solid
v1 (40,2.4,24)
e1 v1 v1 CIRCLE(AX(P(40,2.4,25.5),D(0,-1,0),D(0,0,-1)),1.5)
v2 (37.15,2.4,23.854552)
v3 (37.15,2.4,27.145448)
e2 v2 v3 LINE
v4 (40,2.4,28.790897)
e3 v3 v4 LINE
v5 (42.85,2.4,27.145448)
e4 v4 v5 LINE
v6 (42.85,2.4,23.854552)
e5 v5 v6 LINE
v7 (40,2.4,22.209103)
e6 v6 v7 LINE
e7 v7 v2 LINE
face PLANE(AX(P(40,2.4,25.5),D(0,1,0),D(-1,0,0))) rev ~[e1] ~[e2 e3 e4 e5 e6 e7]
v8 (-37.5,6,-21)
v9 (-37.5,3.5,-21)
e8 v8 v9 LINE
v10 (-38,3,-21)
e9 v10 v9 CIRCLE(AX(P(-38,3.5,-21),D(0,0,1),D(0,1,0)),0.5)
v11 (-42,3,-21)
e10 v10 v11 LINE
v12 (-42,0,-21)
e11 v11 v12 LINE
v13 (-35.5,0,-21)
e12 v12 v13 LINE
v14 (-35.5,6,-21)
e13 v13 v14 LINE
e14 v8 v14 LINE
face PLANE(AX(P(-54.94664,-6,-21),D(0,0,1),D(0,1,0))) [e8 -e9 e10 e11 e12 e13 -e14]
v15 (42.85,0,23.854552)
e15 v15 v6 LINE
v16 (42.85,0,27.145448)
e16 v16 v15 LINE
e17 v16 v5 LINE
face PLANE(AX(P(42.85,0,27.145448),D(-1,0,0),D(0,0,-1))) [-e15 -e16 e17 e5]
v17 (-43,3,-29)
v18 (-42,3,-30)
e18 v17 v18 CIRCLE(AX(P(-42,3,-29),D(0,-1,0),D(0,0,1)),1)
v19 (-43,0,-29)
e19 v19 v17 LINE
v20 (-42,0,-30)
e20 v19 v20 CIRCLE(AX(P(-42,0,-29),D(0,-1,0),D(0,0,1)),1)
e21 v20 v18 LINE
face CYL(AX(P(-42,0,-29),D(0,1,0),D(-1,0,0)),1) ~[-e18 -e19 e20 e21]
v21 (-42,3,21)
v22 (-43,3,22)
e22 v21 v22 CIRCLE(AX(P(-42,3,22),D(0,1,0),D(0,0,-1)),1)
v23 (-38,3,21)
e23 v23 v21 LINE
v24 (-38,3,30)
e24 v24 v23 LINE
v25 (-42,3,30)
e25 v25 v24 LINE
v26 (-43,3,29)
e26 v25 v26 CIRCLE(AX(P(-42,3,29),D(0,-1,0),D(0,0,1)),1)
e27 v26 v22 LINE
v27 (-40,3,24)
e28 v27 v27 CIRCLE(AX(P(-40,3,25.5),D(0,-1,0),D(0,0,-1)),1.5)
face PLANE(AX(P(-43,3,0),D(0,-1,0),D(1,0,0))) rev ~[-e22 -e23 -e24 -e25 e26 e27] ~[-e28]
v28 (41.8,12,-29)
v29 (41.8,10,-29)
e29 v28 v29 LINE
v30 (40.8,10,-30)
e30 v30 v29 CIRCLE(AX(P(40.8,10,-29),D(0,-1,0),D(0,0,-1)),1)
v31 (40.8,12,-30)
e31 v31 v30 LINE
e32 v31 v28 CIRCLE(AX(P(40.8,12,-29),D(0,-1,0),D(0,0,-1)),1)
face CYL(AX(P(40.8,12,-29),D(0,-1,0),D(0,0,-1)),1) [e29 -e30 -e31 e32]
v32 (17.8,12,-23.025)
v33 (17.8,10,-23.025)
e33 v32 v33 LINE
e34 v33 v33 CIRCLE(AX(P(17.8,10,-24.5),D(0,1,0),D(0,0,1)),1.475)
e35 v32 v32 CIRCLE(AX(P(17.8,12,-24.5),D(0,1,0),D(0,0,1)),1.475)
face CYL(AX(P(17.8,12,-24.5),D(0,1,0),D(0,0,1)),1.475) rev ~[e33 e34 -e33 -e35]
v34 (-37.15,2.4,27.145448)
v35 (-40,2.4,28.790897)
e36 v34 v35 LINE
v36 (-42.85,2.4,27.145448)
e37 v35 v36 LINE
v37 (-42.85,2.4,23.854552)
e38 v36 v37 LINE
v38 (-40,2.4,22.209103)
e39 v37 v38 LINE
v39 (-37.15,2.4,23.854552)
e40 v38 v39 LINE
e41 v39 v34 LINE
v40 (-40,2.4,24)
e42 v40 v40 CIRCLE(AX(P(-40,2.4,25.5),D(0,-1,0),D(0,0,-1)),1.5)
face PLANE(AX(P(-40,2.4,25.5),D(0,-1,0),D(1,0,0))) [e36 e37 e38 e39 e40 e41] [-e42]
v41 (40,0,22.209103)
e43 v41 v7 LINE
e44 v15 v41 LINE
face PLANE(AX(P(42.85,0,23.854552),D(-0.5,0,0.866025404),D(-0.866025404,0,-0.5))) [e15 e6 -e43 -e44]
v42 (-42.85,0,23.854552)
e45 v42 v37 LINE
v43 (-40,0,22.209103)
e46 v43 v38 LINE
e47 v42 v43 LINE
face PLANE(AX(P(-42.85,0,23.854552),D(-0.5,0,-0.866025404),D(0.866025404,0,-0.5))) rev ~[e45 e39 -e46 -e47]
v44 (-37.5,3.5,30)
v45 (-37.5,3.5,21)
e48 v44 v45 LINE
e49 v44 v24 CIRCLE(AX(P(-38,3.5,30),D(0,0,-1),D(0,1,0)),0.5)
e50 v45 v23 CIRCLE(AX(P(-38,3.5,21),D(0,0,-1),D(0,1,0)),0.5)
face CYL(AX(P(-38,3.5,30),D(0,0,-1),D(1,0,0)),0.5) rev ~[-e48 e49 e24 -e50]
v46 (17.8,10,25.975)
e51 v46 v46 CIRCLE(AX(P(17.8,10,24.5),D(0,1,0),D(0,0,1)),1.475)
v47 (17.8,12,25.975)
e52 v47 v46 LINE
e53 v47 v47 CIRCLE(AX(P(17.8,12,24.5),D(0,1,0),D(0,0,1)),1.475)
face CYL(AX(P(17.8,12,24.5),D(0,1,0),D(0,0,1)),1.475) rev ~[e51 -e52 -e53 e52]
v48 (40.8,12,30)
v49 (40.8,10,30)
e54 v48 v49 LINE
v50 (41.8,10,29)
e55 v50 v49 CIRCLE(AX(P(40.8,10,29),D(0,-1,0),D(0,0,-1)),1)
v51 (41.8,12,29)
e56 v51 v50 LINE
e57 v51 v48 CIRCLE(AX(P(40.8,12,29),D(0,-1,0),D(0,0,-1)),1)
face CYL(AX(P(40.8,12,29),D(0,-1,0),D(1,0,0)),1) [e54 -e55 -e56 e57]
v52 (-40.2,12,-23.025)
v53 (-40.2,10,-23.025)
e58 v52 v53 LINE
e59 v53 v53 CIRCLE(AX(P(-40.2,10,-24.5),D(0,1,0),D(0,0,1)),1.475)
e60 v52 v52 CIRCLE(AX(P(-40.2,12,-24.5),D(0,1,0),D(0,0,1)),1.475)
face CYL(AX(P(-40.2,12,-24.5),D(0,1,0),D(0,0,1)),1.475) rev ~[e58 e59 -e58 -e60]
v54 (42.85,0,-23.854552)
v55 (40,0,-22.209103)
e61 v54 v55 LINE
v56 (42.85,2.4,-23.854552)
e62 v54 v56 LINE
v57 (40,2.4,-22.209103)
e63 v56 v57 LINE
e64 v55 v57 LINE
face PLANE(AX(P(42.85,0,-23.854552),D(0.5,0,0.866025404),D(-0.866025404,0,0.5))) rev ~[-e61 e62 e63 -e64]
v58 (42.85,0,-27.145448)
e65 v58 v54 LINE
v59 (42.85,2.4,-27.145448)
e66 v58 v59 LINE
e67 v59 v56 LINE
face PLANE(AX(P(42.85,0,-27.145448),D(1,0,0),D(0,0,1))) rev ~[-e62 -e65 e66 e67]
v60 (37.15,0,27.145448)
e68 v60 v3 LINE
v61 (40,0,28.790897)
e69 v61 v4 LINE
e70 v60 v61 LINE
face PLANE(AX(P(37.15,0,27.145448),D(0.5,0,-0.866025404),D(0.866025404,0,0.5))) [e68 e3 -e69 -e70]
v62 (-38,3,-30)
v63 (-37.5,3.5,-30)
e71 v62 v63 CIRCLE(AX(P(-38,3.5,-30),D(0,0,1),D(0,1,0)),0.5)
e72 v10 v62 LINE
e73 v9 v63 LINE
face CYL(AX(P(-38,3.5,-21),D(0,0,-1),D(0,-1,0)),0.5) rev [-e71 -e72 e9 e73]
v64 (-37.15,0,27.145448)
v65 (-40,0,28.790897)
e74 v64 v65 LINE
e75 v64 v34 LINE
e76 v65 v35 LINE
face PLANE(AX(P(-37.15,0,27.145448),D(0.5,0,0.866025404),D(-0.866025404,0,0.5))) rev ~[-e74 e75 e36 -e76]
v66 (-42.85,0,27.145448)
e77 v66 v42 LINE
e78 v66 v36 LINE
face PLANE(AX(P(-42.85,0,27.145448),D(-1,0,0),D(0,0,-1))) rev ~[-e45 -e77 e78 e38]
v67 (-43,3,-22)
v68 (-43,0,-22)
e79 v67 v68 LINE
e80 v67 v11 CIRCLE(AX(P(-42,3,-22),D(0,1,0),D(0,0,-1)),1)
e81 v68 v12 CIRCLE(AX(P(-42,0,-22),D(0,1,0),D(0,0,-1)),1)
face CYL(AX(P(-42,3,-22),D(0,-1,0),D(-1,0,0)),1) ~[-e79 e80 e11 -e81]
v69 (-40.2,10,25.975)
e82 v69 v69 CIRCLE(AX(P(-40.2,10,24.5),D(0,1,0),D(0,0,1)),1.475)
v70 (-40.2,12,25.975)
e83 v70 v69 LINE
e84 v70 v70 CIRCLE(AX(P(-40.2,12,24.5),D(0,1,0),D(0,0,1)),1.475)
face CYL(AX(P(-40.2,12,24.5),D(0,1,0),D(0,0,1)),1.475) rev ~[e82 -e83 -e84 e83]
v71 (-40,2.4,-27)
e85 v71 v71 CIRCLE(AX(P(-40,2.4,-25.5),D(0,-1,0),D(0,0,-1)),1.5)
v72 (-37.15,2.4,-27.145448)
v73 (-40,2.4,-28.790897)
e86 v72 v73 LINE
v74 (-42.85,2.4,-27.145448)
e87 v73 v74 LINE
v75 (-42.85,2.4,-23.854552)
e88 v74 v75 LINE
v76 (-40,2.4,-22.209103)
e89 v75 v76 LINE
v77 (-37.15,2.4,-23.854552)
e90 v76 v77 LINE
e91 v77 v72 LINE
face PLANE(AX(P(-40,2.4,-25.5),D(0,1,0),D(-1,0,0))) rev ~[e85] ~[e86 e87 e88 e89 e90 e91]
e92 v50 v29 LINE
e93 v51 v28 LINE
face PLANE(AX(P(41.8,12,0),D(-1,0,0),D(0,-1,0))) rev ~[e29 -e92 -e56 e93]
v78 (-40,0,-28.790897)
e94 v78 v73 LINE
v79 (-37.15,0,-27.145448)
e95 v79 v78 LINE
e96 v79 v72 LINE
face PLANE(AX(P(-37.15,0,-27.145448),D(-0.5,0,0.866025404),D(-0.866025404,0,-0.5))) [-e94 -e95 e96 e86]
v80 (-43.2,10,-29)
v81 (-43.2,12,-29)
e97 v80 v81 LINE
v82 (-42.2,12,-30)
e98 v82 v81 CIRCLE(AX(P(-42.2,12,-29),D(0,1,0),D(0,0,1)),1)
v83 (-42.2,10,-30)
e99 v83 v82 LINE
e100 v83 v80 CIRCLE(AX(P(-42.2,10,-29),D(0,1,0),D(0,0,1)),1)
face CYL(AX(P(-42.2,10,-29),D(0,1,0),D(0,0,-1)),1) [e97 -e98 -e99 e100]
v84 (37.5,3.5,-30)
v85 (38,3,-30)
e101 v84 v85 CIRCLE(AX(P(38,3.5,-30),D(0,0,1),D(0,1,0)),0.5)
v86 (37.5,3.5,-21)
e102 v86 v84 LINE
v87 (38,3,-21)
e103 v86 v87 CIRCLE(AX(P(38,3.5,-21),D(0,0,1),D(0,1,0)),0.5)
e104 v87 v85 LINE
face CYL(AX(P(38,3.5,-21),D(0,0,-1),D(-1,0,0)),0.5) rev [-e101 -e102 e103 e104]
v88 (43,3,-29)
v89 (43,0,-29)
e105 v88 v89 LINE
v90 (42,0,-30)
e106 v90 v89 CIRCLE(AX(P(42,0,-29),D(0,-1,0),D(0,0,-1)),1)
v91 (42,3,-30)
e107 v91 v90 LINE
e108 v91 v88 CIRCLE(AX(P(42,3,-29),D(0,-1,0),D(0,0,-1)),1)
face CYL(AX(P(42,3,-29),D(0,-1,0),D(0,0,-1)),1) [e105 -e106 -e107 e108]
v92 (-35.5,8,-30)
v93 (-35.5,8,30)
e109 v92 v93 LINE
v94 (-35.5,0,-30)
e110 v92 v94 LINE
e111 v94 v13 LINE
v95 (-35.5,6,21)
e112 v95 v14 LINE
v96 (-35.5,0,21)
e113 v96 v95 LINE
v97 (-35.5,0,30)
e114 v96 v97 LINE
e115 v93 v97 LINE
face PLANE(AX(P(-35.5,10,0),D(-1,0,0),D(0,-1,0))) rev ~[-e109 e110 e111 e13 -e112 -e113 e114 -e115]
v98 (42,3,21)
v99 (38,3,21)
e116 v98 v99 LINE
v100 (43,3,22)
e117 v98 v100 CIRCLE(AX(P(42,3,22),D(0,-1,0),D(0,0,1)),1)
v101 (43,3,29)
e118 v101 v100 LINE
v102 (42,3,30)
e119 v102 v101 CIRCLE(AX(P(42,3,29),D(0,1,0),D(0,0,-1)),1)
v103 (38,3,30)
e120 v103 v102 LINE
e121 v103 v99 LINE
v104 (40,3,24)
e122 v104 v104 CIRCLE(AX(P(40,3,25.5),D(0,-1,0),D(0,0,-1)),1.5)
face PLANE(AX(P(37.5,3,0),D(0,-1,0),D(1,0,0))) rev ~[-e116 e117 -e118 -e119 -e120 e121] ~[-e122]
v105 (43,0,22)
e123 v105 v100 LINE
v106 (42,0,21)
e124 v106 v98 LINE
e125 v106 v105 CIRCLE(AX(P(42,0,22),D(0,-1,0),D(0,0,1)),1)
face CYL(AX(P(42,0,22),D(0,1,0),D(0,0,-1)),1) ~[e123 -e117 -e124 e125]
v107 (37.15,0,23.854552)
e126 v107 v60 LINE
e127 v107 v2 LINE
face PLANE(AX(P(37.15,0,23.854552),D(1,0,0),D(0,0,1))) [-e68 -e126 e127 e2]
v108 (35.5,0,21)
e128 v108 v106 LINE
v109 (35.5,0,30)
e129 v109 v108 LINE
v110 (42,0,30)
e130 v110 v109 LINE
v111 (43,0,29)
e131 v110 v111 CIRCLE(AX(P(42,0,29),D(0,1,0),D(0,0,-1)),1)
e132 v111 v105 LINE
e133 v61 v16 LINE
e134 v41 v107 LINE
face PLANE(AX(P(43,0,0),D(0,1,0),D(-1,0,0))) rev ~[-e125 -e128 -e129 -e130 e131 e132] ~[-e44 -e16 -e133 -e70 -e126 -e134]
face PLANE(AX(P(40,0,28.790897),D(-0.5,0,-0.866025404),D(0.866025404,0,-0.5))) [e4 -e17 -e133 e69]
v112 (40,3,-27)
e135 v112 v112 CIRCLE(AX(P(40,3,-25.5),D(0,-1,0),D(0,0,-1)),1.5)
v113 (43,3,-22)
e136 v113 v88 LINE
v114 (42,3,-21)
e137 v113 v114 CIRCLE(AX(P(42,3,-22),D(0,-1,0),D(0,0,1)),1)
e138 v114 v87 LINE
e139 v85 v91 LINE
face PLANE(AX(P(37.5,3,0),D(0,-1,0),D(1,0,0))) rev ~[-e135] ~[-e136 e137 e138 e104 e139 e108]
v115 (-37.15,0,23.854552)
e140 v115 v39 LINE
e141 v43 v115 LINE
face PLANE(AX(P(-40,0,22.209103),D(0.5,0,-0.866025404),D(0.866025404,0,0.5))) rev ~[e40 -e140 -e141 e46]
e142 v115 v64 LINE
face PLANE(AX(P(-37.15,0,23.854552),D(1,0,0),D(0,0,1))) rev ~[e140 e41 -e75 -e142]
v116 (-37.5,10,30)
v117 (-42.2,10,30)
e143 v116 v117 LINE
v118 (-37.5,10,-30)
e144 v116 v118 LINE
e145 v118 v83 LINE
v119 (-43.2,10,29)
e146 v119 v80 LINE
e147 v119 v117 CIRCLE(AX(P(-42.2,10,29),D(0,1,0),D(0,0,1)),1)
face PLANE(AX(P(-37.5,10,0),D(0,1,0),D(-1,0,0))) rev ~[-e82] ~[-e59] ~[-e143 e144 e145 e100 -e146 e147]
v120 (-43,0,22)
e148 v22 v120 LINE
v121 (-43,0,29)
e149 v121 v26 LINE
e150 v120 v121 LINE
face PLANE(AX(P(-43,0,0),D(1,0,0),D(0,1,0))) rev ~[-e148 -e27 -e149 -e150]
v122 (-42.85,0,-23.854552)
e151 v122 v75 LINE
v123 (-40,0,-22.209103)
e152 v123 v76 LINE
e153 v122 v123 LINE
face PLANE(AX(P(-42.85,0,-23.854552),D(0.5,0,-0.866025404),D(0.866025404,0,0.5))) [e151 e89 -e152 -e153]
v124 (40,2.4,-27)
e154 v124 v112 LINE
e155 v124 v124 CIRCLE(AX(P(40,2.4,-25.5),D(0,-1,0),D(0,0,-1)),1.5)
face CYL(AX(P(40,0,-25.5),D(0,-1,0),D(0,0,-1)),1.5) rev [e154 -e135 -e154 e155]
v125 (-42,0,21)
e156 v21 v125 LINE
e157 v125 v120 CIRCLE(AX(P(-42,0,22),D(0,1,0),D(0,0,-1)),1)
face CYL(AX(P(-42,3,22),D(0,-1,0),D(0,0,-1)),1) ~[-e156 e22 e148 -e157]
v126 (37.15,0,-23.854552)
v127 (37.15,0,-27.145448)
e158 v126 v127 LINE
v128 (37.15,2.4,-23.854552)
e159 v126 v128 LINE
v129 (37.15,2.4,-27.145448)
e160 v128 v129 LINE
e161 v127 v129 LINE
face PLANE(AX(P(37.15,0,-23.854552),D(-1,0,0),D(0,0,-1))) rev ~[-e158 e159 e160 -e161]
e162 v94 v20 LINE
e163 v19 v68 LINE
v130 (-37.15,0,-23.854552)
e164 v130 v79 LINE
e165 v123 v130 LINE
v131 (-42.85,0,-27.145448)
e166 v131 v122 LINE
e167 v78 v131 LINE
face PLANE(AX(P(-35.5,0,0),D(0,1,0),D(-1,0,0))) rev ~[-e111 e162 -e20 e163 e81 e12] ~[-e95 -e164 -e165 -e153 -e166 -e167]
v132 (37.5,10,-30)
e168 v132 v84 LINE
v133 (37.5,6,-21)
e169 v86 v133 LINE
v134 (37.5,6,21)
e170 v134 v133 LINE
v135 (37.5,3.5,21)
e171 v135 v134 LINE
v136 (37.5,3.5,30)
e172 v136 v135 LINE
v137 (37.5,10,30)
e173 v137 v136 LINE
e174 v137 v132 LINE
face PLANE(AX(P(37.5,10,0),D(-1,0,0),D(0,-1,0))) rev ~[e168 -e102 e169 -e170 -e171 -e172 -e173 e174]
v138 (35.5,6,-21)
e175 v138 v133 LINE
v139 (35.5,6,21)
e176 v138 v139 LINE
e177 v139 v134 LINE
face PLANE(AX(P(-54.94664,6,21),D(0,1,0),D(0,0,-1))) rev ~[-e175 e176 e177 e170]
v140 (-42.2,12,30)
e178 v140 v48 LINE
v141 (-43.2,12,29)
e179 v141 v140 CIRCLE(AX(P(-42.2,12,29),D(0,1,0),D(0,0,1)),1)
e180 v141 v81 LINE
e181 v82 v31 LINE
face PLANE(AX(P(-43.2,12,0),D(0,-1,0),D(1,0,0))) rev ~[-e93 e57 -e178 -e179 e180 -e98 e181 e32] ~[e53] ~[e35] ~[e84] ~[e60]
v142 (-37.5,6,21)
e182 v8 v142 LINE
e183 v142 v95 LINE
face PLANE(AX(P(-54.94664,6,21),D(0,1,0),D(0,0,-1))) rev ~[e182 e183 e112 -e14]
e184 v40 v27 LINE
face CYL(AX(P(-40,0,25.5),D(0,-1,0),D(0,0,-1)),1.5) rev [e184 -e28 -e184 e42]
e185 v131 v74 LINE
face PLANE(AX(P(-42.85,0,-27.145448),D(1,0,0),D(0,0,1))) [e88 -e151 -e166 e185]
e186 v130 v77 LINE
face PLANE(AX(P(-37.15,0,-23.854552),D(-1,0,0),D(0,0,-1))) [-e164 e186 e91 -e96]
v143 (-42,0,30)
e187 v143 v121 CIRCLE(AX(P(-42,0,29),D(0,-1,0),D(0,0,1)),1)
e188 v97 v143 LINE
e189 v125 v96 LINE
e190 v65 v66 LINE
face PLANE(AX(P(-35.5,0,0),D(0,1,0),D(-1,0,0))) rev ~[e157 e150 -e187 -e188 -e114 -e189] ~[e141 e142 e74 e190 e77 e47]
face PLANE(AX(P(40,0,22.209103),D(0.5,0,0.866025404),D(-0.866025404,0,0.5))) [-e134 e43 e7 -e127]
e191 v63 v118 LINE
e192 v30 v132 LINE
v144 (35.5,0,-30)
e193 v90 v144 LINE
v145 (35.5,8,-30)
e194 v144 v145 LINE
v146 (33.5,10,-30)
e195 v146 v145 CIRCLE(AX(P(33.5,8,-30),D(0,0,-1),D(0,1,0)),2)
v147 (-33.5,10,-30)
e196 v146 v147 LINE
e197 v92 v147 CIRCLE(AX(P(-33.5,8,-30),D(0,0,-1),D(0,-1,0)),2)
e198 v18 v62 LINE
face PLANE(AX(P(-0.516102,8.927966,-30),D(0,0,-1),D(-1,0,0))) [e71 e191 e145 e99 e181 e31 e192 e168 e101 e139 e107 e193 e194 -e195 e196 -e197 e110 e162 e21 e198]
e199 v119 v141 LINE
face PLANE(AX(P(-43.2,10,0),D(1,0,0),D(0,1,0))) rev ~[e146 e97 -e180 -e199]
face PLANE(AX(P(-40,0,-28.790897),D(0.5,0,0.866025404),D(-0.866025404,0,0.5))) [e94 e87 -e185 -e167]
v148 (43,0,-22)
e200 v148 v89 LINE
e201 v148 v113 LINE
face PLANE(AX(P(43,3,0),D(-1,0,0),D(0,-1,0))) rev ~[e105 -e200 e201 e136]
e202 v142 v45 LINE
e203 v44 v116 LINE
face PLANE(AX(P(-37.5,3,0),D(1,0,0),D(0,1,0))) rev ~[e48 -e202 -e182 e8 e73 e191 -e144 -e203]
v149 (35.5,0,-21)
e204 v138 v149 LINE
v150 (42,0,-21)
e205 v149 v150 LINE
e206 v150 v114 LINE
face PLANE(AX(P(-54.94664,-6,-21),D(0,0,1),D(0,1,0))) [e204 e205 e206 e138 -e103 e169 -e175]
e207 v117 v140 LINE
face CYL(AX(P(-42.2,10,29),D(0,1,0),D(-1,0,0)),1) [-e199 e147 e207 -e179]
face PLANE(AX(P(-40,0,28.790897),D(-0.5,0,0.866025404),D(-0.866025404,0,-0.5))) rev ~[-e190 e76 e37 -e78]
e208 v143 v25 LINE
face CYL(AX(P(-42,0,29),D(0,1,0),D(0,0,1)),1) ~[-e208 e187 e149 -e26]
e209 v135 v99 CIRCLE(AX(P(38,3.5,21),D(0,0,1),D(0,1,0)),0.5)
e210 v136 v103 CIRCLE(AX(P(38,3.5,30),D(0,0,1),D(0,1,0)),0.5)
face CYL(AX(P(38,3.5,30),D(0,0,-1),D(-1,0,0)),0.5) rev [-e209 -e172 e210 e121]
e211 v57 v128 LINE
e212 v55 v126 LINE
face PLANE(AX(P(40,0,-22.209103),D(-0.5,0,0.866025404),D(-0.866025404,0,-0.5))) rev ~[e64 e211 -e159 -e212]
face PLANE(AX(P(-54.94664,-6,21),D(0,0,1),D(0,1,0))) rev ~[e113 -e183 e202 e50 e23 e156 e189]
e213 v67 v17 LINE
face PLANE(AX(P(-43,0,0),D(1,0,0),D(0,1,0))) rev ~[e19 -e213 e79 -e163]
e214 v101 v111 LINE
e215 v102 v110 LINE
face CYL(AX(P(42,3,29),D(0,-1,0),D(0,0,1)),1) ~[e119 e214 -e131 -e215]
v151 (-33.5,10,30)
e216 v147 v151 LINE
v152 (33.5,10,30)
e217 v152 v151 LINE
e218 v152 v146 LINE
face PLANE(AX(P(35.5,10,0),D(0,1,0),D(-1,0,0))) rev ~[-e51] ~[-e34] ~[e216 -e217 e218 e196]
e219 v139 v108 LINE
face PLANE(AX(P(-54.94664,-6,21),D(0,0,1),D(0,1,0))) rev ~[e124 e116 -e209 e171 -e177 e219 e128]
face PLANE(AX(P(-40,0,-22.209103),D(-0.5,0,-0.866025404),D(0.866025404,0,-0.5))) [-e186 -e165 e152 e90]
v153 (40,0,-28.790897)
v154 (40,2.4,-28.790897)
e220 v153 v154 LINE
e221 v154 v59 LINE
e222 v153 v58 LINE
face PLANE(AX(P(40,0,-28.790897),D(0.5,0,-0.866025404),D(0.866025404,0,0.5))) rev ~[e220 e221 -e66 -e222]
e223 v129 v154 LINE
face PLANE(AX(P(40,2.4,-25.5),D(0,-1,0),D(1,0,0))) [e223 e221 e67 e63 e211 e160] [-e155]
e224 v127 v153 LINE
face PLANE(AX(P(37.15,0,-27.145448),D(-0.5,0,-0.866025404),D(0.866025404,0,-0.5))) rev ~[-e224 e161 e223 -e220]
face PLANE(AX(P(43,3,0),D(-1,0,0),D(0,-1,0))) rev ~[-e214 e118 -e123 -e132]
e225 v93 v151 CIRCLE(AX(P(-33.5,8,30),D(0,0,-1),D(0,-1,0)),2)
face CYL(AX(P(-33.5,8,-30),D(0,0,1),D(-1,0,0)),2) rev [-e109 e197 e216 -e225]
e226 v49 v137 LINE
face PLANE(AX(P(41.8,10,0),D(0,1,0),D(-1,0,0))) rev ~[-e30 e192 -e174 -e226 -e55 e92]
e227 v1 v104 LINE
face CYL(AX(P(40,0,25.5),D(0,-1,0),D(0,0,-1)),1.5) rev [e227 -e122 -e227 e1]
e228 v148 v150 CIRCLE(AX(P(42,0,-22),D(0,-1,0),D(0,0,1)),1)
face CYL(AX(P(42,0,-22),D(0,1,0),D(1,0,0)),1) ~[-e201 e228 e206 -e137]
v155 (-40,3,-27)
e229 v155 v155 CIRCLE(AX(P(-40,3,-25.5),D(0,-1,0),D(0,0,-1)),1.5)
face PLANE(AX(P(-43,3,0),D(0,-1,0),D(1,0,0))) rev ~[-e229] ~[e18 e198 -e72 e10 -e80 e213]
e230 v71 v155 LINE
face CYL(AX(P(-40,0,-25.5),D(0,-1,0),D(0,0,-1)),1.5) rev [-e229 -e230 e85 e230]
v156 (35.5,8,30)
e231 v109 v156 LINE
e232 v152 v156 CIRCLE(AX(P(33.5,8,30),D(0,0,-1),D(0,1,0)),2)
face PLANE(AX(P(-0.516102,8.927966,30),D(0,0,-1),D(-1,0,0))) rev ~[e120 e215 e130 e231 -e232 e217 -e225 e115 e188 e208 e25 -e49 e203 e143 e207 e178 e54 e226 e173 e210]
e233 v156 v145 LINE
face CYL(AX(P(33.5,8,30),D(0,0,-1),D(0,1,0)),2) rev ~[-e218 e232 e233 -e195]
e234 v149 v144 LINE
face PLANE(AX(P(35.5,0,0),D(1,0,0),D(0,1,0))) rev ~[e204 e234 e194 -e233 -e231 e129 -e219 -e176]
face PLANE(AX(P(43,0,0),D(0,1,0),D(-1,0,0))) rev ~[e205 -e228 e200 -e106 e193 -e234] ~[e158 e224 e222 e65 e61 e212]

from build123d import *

# Parameters (mm, degrees)
EXTRUDE_1_DEPTH          = 30
CUT_EXTRUDE_1_DEPTH      = 54.946640303
CUT_EXTRUDE_1_DEPTH_BACK = 54.946640303
SKETCH_2_W               = 42
SKETCH_2_H               = 12
CUT_EXTRUDE_4_REACH      = 55.947
SKETCH_3_R               = 1.5
SKETCH_5_R               = 1.475
CUT_EXTRUDE_5_DEPTH      = 5
CUT_EXTRUDE_7_DEPTH      = 2.4
FILLET_1_R               = 1
FILLET_5_R               = 0.5
FILLET_7_R               = 2


with BuildPart() as part:
    # 草圖1 → 填料-伸長1 (new, symmetric)
    with BuildSketch(Plane.XY):
        Polygon((-43, 0), (-43, 3), (-37.5, 3), (-37.5, 10), (-43.2, 10), (-43.2, 12), (41.8, 12), (41.8, 10), (37.5, 10), (37.5, 3), (43, 3), (43, 0), (35.5, 0), (35.5, 10), (-35.5, 10), (-35.5, 0), align=None)
    extrude(amount=EXTRUDE_1_DEPTH, both=True)

    # 草圖2 → 除料-伸長1 (cut, two sides: drawn at the far end of the back side and taken through both)
    with BuildSketch(Plane(origin=(0, 0, 0), x_dir=(0, 0, -1), z_dir=(1, 0, 0)).offset(-CUT_EXTRUDE_1_DEPTH_BACK)):
        Rectangle(SKETCH_2_W, SKETCH_2_H)
    extrude(amount=CUT_EXTRUDE_1_DEPTH + CUT_EXTRUDE_1_DEPTH_BACK, mode=Mode.SUBTRACT)

    # 草圖3 → 除料-伸長4 (cut, up to next)
    with BuildSketch(Plane(origin=(0, 0, 0), x_dir=(1, 0, 0), z_dir=(0, 1, 0)), mode=Mode.PRIVATE) as cut_extrude_4_sk1:
        with Locations(Location((-40, 25.5, 0), (0, 0, 90))):
            Circle(SKETCH_3_R)
    cut_extrude_4_tool1 = extrude(cut_extrude_4_sk1.sketch, amount=CUT_EXTRUDE_4_REACH, mode=Mode.PRIVATE) & part.part
    # 草圖3 → 除料-伸長4 (cut, up to next)
    with BuildSketch(Plane(origin=(0, 0, 0), x_dir=(1, 0, 0), z_dir=(0, 1, 0)), mode=Mode.PRIVATE) as cut_extrude_4_sk2:
        with Locations(Location((40, 25.5, 0), (0, 0, 90))):
            Circle(SKETCH_3_R)
    cut_extrude_4_tool2 = extrude(cut_extrude_4_sk2.sketch, amount=CUT_EXTRUDE_4_REACH, mode=Mode.PRIVATE) & part.part
    # 草圖3 → 除料-伸長4 (cut, up to next)
    with BuildSketch(Plane(origin=(0, 0, 0), x_dir=(1, 0, 0), z_dir=(0, 1, 0)), mode=Mode.PRIVATE) as cut_extrude_4_sk3:
        with Locations(Location((40, -25.5, 0), (0, 0, 90))):
            Circle(SKETCH_3_R)
    cut_extrude_4_tool3 = extrude(cut_extrude_4_sk3.sketch, amount=CUT_EXTRUDE_4_REACH, mode=Mode.PRIVATE) & part.part
    # 草圖3 → 除料-伸長4 (cut, up to next)
    with BuildSketch(Plane(origin=(0, 0, 0), x_dir=(1, 0, 0), z_dir=(0, 1, 0)), mode=Mode.PRIVATE) as cut_extrude_4_sk4:
        with Locations(Location((-40, -25.5, 0), (0, 0, 90))):
            Circle(SKETCH_3_R)
    cut_extrude_4_tool4 = extrude(cut_extrude_4_sk4.sketch, amount=CUT_EXTRUDE_4_REACH, mode=Mode.PRIVATE) & part.part
    add(cut_extrude_4_tool1.solids().sort_by_distance((-40, 0, -25.5))[0], mode=Mode.SUBTRACT)
    add(cut_extrude_4_tool2.solids().sort_by_distance((40, 0, -25.5))[0], mode=Mode.SUBTRACT)
    add(cut_extrude_4_tool3.solids().sort_by_distance((40, 0, 25.5))[0], mode=Mode.SUBTRACT)
    add(cut_extrude_4_tool4.solids().sort_by_distance((-40, 0, 25.5))[0], mode=Mode.SUBTRACT)

    # 草圖5 → 除料-伸長5 (cut)
    with BuildSketch(Plane(origin=(0, 12, 0), x_dir=(1, 0, 0), z_dir=(0, 1, 0))):
        with Locations(Location((-40.2, 24.5, 0), (0, 0, 270))):
            Circle(SKETCH_5_R)
        with Locations(Location((-40.2, -24.5, 0), (0, 0, 270))):
            Circle(SKETCH_5_R)
        with Locations(Location((17.8, 24.5, 0), (0, 0, 270))):
            Circle(SKETCH_5_R)
        with Locations(Location((17.8, -24.5, 0), (0, 0, 270))):
            Circle(SKETCH_5_R)
    extrude(amount=-CUT_EXTRUDE_5_DEPTH, mode=Mode.SUBTRACT)

    # 草圖16 → 除料-伸長7 (cut)
    with BuildSketch(Plane.XZ):
        Polygon((-40, 22.209103466), (-37.15, 23.854551733), (-37.15, 27.145448267), (-40, 28.790896534), (-42.85, 27.145448267), (-42.85, 23.854551733), align=None)
        Polygon((-42.85, -23.854551733), (-40, -22.209103466), (-37.15, -23.854551733), (-37.15, -27.145448267), (-40, -28.790896534), (-42.85, -27.145448267), align=None)
        Polygon((40, -22.209103466), (37.15, -23.854551733), (37.15, -27.145448267), (40, -28.790896534), (42.85, -27.145448267), (42.85, -23.854551733), align=None)
        Polygon((42.85, 23.854551733), (40, 22.209103466), (37.15, 23.854551733), (37.15, 27.145448267), (40, 28.790896534), (42.85, 27.145448267), align=None)
    extrude(amount=-CUT_EXTRUDE_7_DEPTH, mode=Mode.SUBTRACT)

    # 圓角1
    fillet_1_edges = [part.edges().sort_by_distance(p)[0] for p in [
        (-43, 1.5, -30),
        (-43.2, 11, -30),
        (41.8, 11, -30),
        (43, 1.5, -30),
        (43, 1.5, 30),
        (41.8, 11, 30),
        (-43, 1.5, 21),
        (-43, 1.5, -21),
        (-43.2, 11, 30),
        (43, 1.5, -21),
        (43, 1.5, 21),
        (-43, 1.5, 30),
    ]]
    fillet(fillet_1_edges, radius=FILLET_1_R)

    # 圓角5
    fillet_5_edges = [part.edges().sort_by_distance(p)[0] for p in [
        (-37.5, 3, 25.5),
        (37.5, 3, 25.5),
        (-37.5, 3, -25.5),
        (37.5, 3, -25.5),
    ]]
    fillet(fillet_5_edges, radius=FILLET_5_R)

    # 圓角7
    fillet_7_edges = [part.edges().sort_by_distance(p)[0] for p in [
        (35.5, 10, 0),
        (-35.5, 10, 0),
    ]]
    fillet(fillet_7_edges, radius=FILLET_7_R)


solid = part.part
